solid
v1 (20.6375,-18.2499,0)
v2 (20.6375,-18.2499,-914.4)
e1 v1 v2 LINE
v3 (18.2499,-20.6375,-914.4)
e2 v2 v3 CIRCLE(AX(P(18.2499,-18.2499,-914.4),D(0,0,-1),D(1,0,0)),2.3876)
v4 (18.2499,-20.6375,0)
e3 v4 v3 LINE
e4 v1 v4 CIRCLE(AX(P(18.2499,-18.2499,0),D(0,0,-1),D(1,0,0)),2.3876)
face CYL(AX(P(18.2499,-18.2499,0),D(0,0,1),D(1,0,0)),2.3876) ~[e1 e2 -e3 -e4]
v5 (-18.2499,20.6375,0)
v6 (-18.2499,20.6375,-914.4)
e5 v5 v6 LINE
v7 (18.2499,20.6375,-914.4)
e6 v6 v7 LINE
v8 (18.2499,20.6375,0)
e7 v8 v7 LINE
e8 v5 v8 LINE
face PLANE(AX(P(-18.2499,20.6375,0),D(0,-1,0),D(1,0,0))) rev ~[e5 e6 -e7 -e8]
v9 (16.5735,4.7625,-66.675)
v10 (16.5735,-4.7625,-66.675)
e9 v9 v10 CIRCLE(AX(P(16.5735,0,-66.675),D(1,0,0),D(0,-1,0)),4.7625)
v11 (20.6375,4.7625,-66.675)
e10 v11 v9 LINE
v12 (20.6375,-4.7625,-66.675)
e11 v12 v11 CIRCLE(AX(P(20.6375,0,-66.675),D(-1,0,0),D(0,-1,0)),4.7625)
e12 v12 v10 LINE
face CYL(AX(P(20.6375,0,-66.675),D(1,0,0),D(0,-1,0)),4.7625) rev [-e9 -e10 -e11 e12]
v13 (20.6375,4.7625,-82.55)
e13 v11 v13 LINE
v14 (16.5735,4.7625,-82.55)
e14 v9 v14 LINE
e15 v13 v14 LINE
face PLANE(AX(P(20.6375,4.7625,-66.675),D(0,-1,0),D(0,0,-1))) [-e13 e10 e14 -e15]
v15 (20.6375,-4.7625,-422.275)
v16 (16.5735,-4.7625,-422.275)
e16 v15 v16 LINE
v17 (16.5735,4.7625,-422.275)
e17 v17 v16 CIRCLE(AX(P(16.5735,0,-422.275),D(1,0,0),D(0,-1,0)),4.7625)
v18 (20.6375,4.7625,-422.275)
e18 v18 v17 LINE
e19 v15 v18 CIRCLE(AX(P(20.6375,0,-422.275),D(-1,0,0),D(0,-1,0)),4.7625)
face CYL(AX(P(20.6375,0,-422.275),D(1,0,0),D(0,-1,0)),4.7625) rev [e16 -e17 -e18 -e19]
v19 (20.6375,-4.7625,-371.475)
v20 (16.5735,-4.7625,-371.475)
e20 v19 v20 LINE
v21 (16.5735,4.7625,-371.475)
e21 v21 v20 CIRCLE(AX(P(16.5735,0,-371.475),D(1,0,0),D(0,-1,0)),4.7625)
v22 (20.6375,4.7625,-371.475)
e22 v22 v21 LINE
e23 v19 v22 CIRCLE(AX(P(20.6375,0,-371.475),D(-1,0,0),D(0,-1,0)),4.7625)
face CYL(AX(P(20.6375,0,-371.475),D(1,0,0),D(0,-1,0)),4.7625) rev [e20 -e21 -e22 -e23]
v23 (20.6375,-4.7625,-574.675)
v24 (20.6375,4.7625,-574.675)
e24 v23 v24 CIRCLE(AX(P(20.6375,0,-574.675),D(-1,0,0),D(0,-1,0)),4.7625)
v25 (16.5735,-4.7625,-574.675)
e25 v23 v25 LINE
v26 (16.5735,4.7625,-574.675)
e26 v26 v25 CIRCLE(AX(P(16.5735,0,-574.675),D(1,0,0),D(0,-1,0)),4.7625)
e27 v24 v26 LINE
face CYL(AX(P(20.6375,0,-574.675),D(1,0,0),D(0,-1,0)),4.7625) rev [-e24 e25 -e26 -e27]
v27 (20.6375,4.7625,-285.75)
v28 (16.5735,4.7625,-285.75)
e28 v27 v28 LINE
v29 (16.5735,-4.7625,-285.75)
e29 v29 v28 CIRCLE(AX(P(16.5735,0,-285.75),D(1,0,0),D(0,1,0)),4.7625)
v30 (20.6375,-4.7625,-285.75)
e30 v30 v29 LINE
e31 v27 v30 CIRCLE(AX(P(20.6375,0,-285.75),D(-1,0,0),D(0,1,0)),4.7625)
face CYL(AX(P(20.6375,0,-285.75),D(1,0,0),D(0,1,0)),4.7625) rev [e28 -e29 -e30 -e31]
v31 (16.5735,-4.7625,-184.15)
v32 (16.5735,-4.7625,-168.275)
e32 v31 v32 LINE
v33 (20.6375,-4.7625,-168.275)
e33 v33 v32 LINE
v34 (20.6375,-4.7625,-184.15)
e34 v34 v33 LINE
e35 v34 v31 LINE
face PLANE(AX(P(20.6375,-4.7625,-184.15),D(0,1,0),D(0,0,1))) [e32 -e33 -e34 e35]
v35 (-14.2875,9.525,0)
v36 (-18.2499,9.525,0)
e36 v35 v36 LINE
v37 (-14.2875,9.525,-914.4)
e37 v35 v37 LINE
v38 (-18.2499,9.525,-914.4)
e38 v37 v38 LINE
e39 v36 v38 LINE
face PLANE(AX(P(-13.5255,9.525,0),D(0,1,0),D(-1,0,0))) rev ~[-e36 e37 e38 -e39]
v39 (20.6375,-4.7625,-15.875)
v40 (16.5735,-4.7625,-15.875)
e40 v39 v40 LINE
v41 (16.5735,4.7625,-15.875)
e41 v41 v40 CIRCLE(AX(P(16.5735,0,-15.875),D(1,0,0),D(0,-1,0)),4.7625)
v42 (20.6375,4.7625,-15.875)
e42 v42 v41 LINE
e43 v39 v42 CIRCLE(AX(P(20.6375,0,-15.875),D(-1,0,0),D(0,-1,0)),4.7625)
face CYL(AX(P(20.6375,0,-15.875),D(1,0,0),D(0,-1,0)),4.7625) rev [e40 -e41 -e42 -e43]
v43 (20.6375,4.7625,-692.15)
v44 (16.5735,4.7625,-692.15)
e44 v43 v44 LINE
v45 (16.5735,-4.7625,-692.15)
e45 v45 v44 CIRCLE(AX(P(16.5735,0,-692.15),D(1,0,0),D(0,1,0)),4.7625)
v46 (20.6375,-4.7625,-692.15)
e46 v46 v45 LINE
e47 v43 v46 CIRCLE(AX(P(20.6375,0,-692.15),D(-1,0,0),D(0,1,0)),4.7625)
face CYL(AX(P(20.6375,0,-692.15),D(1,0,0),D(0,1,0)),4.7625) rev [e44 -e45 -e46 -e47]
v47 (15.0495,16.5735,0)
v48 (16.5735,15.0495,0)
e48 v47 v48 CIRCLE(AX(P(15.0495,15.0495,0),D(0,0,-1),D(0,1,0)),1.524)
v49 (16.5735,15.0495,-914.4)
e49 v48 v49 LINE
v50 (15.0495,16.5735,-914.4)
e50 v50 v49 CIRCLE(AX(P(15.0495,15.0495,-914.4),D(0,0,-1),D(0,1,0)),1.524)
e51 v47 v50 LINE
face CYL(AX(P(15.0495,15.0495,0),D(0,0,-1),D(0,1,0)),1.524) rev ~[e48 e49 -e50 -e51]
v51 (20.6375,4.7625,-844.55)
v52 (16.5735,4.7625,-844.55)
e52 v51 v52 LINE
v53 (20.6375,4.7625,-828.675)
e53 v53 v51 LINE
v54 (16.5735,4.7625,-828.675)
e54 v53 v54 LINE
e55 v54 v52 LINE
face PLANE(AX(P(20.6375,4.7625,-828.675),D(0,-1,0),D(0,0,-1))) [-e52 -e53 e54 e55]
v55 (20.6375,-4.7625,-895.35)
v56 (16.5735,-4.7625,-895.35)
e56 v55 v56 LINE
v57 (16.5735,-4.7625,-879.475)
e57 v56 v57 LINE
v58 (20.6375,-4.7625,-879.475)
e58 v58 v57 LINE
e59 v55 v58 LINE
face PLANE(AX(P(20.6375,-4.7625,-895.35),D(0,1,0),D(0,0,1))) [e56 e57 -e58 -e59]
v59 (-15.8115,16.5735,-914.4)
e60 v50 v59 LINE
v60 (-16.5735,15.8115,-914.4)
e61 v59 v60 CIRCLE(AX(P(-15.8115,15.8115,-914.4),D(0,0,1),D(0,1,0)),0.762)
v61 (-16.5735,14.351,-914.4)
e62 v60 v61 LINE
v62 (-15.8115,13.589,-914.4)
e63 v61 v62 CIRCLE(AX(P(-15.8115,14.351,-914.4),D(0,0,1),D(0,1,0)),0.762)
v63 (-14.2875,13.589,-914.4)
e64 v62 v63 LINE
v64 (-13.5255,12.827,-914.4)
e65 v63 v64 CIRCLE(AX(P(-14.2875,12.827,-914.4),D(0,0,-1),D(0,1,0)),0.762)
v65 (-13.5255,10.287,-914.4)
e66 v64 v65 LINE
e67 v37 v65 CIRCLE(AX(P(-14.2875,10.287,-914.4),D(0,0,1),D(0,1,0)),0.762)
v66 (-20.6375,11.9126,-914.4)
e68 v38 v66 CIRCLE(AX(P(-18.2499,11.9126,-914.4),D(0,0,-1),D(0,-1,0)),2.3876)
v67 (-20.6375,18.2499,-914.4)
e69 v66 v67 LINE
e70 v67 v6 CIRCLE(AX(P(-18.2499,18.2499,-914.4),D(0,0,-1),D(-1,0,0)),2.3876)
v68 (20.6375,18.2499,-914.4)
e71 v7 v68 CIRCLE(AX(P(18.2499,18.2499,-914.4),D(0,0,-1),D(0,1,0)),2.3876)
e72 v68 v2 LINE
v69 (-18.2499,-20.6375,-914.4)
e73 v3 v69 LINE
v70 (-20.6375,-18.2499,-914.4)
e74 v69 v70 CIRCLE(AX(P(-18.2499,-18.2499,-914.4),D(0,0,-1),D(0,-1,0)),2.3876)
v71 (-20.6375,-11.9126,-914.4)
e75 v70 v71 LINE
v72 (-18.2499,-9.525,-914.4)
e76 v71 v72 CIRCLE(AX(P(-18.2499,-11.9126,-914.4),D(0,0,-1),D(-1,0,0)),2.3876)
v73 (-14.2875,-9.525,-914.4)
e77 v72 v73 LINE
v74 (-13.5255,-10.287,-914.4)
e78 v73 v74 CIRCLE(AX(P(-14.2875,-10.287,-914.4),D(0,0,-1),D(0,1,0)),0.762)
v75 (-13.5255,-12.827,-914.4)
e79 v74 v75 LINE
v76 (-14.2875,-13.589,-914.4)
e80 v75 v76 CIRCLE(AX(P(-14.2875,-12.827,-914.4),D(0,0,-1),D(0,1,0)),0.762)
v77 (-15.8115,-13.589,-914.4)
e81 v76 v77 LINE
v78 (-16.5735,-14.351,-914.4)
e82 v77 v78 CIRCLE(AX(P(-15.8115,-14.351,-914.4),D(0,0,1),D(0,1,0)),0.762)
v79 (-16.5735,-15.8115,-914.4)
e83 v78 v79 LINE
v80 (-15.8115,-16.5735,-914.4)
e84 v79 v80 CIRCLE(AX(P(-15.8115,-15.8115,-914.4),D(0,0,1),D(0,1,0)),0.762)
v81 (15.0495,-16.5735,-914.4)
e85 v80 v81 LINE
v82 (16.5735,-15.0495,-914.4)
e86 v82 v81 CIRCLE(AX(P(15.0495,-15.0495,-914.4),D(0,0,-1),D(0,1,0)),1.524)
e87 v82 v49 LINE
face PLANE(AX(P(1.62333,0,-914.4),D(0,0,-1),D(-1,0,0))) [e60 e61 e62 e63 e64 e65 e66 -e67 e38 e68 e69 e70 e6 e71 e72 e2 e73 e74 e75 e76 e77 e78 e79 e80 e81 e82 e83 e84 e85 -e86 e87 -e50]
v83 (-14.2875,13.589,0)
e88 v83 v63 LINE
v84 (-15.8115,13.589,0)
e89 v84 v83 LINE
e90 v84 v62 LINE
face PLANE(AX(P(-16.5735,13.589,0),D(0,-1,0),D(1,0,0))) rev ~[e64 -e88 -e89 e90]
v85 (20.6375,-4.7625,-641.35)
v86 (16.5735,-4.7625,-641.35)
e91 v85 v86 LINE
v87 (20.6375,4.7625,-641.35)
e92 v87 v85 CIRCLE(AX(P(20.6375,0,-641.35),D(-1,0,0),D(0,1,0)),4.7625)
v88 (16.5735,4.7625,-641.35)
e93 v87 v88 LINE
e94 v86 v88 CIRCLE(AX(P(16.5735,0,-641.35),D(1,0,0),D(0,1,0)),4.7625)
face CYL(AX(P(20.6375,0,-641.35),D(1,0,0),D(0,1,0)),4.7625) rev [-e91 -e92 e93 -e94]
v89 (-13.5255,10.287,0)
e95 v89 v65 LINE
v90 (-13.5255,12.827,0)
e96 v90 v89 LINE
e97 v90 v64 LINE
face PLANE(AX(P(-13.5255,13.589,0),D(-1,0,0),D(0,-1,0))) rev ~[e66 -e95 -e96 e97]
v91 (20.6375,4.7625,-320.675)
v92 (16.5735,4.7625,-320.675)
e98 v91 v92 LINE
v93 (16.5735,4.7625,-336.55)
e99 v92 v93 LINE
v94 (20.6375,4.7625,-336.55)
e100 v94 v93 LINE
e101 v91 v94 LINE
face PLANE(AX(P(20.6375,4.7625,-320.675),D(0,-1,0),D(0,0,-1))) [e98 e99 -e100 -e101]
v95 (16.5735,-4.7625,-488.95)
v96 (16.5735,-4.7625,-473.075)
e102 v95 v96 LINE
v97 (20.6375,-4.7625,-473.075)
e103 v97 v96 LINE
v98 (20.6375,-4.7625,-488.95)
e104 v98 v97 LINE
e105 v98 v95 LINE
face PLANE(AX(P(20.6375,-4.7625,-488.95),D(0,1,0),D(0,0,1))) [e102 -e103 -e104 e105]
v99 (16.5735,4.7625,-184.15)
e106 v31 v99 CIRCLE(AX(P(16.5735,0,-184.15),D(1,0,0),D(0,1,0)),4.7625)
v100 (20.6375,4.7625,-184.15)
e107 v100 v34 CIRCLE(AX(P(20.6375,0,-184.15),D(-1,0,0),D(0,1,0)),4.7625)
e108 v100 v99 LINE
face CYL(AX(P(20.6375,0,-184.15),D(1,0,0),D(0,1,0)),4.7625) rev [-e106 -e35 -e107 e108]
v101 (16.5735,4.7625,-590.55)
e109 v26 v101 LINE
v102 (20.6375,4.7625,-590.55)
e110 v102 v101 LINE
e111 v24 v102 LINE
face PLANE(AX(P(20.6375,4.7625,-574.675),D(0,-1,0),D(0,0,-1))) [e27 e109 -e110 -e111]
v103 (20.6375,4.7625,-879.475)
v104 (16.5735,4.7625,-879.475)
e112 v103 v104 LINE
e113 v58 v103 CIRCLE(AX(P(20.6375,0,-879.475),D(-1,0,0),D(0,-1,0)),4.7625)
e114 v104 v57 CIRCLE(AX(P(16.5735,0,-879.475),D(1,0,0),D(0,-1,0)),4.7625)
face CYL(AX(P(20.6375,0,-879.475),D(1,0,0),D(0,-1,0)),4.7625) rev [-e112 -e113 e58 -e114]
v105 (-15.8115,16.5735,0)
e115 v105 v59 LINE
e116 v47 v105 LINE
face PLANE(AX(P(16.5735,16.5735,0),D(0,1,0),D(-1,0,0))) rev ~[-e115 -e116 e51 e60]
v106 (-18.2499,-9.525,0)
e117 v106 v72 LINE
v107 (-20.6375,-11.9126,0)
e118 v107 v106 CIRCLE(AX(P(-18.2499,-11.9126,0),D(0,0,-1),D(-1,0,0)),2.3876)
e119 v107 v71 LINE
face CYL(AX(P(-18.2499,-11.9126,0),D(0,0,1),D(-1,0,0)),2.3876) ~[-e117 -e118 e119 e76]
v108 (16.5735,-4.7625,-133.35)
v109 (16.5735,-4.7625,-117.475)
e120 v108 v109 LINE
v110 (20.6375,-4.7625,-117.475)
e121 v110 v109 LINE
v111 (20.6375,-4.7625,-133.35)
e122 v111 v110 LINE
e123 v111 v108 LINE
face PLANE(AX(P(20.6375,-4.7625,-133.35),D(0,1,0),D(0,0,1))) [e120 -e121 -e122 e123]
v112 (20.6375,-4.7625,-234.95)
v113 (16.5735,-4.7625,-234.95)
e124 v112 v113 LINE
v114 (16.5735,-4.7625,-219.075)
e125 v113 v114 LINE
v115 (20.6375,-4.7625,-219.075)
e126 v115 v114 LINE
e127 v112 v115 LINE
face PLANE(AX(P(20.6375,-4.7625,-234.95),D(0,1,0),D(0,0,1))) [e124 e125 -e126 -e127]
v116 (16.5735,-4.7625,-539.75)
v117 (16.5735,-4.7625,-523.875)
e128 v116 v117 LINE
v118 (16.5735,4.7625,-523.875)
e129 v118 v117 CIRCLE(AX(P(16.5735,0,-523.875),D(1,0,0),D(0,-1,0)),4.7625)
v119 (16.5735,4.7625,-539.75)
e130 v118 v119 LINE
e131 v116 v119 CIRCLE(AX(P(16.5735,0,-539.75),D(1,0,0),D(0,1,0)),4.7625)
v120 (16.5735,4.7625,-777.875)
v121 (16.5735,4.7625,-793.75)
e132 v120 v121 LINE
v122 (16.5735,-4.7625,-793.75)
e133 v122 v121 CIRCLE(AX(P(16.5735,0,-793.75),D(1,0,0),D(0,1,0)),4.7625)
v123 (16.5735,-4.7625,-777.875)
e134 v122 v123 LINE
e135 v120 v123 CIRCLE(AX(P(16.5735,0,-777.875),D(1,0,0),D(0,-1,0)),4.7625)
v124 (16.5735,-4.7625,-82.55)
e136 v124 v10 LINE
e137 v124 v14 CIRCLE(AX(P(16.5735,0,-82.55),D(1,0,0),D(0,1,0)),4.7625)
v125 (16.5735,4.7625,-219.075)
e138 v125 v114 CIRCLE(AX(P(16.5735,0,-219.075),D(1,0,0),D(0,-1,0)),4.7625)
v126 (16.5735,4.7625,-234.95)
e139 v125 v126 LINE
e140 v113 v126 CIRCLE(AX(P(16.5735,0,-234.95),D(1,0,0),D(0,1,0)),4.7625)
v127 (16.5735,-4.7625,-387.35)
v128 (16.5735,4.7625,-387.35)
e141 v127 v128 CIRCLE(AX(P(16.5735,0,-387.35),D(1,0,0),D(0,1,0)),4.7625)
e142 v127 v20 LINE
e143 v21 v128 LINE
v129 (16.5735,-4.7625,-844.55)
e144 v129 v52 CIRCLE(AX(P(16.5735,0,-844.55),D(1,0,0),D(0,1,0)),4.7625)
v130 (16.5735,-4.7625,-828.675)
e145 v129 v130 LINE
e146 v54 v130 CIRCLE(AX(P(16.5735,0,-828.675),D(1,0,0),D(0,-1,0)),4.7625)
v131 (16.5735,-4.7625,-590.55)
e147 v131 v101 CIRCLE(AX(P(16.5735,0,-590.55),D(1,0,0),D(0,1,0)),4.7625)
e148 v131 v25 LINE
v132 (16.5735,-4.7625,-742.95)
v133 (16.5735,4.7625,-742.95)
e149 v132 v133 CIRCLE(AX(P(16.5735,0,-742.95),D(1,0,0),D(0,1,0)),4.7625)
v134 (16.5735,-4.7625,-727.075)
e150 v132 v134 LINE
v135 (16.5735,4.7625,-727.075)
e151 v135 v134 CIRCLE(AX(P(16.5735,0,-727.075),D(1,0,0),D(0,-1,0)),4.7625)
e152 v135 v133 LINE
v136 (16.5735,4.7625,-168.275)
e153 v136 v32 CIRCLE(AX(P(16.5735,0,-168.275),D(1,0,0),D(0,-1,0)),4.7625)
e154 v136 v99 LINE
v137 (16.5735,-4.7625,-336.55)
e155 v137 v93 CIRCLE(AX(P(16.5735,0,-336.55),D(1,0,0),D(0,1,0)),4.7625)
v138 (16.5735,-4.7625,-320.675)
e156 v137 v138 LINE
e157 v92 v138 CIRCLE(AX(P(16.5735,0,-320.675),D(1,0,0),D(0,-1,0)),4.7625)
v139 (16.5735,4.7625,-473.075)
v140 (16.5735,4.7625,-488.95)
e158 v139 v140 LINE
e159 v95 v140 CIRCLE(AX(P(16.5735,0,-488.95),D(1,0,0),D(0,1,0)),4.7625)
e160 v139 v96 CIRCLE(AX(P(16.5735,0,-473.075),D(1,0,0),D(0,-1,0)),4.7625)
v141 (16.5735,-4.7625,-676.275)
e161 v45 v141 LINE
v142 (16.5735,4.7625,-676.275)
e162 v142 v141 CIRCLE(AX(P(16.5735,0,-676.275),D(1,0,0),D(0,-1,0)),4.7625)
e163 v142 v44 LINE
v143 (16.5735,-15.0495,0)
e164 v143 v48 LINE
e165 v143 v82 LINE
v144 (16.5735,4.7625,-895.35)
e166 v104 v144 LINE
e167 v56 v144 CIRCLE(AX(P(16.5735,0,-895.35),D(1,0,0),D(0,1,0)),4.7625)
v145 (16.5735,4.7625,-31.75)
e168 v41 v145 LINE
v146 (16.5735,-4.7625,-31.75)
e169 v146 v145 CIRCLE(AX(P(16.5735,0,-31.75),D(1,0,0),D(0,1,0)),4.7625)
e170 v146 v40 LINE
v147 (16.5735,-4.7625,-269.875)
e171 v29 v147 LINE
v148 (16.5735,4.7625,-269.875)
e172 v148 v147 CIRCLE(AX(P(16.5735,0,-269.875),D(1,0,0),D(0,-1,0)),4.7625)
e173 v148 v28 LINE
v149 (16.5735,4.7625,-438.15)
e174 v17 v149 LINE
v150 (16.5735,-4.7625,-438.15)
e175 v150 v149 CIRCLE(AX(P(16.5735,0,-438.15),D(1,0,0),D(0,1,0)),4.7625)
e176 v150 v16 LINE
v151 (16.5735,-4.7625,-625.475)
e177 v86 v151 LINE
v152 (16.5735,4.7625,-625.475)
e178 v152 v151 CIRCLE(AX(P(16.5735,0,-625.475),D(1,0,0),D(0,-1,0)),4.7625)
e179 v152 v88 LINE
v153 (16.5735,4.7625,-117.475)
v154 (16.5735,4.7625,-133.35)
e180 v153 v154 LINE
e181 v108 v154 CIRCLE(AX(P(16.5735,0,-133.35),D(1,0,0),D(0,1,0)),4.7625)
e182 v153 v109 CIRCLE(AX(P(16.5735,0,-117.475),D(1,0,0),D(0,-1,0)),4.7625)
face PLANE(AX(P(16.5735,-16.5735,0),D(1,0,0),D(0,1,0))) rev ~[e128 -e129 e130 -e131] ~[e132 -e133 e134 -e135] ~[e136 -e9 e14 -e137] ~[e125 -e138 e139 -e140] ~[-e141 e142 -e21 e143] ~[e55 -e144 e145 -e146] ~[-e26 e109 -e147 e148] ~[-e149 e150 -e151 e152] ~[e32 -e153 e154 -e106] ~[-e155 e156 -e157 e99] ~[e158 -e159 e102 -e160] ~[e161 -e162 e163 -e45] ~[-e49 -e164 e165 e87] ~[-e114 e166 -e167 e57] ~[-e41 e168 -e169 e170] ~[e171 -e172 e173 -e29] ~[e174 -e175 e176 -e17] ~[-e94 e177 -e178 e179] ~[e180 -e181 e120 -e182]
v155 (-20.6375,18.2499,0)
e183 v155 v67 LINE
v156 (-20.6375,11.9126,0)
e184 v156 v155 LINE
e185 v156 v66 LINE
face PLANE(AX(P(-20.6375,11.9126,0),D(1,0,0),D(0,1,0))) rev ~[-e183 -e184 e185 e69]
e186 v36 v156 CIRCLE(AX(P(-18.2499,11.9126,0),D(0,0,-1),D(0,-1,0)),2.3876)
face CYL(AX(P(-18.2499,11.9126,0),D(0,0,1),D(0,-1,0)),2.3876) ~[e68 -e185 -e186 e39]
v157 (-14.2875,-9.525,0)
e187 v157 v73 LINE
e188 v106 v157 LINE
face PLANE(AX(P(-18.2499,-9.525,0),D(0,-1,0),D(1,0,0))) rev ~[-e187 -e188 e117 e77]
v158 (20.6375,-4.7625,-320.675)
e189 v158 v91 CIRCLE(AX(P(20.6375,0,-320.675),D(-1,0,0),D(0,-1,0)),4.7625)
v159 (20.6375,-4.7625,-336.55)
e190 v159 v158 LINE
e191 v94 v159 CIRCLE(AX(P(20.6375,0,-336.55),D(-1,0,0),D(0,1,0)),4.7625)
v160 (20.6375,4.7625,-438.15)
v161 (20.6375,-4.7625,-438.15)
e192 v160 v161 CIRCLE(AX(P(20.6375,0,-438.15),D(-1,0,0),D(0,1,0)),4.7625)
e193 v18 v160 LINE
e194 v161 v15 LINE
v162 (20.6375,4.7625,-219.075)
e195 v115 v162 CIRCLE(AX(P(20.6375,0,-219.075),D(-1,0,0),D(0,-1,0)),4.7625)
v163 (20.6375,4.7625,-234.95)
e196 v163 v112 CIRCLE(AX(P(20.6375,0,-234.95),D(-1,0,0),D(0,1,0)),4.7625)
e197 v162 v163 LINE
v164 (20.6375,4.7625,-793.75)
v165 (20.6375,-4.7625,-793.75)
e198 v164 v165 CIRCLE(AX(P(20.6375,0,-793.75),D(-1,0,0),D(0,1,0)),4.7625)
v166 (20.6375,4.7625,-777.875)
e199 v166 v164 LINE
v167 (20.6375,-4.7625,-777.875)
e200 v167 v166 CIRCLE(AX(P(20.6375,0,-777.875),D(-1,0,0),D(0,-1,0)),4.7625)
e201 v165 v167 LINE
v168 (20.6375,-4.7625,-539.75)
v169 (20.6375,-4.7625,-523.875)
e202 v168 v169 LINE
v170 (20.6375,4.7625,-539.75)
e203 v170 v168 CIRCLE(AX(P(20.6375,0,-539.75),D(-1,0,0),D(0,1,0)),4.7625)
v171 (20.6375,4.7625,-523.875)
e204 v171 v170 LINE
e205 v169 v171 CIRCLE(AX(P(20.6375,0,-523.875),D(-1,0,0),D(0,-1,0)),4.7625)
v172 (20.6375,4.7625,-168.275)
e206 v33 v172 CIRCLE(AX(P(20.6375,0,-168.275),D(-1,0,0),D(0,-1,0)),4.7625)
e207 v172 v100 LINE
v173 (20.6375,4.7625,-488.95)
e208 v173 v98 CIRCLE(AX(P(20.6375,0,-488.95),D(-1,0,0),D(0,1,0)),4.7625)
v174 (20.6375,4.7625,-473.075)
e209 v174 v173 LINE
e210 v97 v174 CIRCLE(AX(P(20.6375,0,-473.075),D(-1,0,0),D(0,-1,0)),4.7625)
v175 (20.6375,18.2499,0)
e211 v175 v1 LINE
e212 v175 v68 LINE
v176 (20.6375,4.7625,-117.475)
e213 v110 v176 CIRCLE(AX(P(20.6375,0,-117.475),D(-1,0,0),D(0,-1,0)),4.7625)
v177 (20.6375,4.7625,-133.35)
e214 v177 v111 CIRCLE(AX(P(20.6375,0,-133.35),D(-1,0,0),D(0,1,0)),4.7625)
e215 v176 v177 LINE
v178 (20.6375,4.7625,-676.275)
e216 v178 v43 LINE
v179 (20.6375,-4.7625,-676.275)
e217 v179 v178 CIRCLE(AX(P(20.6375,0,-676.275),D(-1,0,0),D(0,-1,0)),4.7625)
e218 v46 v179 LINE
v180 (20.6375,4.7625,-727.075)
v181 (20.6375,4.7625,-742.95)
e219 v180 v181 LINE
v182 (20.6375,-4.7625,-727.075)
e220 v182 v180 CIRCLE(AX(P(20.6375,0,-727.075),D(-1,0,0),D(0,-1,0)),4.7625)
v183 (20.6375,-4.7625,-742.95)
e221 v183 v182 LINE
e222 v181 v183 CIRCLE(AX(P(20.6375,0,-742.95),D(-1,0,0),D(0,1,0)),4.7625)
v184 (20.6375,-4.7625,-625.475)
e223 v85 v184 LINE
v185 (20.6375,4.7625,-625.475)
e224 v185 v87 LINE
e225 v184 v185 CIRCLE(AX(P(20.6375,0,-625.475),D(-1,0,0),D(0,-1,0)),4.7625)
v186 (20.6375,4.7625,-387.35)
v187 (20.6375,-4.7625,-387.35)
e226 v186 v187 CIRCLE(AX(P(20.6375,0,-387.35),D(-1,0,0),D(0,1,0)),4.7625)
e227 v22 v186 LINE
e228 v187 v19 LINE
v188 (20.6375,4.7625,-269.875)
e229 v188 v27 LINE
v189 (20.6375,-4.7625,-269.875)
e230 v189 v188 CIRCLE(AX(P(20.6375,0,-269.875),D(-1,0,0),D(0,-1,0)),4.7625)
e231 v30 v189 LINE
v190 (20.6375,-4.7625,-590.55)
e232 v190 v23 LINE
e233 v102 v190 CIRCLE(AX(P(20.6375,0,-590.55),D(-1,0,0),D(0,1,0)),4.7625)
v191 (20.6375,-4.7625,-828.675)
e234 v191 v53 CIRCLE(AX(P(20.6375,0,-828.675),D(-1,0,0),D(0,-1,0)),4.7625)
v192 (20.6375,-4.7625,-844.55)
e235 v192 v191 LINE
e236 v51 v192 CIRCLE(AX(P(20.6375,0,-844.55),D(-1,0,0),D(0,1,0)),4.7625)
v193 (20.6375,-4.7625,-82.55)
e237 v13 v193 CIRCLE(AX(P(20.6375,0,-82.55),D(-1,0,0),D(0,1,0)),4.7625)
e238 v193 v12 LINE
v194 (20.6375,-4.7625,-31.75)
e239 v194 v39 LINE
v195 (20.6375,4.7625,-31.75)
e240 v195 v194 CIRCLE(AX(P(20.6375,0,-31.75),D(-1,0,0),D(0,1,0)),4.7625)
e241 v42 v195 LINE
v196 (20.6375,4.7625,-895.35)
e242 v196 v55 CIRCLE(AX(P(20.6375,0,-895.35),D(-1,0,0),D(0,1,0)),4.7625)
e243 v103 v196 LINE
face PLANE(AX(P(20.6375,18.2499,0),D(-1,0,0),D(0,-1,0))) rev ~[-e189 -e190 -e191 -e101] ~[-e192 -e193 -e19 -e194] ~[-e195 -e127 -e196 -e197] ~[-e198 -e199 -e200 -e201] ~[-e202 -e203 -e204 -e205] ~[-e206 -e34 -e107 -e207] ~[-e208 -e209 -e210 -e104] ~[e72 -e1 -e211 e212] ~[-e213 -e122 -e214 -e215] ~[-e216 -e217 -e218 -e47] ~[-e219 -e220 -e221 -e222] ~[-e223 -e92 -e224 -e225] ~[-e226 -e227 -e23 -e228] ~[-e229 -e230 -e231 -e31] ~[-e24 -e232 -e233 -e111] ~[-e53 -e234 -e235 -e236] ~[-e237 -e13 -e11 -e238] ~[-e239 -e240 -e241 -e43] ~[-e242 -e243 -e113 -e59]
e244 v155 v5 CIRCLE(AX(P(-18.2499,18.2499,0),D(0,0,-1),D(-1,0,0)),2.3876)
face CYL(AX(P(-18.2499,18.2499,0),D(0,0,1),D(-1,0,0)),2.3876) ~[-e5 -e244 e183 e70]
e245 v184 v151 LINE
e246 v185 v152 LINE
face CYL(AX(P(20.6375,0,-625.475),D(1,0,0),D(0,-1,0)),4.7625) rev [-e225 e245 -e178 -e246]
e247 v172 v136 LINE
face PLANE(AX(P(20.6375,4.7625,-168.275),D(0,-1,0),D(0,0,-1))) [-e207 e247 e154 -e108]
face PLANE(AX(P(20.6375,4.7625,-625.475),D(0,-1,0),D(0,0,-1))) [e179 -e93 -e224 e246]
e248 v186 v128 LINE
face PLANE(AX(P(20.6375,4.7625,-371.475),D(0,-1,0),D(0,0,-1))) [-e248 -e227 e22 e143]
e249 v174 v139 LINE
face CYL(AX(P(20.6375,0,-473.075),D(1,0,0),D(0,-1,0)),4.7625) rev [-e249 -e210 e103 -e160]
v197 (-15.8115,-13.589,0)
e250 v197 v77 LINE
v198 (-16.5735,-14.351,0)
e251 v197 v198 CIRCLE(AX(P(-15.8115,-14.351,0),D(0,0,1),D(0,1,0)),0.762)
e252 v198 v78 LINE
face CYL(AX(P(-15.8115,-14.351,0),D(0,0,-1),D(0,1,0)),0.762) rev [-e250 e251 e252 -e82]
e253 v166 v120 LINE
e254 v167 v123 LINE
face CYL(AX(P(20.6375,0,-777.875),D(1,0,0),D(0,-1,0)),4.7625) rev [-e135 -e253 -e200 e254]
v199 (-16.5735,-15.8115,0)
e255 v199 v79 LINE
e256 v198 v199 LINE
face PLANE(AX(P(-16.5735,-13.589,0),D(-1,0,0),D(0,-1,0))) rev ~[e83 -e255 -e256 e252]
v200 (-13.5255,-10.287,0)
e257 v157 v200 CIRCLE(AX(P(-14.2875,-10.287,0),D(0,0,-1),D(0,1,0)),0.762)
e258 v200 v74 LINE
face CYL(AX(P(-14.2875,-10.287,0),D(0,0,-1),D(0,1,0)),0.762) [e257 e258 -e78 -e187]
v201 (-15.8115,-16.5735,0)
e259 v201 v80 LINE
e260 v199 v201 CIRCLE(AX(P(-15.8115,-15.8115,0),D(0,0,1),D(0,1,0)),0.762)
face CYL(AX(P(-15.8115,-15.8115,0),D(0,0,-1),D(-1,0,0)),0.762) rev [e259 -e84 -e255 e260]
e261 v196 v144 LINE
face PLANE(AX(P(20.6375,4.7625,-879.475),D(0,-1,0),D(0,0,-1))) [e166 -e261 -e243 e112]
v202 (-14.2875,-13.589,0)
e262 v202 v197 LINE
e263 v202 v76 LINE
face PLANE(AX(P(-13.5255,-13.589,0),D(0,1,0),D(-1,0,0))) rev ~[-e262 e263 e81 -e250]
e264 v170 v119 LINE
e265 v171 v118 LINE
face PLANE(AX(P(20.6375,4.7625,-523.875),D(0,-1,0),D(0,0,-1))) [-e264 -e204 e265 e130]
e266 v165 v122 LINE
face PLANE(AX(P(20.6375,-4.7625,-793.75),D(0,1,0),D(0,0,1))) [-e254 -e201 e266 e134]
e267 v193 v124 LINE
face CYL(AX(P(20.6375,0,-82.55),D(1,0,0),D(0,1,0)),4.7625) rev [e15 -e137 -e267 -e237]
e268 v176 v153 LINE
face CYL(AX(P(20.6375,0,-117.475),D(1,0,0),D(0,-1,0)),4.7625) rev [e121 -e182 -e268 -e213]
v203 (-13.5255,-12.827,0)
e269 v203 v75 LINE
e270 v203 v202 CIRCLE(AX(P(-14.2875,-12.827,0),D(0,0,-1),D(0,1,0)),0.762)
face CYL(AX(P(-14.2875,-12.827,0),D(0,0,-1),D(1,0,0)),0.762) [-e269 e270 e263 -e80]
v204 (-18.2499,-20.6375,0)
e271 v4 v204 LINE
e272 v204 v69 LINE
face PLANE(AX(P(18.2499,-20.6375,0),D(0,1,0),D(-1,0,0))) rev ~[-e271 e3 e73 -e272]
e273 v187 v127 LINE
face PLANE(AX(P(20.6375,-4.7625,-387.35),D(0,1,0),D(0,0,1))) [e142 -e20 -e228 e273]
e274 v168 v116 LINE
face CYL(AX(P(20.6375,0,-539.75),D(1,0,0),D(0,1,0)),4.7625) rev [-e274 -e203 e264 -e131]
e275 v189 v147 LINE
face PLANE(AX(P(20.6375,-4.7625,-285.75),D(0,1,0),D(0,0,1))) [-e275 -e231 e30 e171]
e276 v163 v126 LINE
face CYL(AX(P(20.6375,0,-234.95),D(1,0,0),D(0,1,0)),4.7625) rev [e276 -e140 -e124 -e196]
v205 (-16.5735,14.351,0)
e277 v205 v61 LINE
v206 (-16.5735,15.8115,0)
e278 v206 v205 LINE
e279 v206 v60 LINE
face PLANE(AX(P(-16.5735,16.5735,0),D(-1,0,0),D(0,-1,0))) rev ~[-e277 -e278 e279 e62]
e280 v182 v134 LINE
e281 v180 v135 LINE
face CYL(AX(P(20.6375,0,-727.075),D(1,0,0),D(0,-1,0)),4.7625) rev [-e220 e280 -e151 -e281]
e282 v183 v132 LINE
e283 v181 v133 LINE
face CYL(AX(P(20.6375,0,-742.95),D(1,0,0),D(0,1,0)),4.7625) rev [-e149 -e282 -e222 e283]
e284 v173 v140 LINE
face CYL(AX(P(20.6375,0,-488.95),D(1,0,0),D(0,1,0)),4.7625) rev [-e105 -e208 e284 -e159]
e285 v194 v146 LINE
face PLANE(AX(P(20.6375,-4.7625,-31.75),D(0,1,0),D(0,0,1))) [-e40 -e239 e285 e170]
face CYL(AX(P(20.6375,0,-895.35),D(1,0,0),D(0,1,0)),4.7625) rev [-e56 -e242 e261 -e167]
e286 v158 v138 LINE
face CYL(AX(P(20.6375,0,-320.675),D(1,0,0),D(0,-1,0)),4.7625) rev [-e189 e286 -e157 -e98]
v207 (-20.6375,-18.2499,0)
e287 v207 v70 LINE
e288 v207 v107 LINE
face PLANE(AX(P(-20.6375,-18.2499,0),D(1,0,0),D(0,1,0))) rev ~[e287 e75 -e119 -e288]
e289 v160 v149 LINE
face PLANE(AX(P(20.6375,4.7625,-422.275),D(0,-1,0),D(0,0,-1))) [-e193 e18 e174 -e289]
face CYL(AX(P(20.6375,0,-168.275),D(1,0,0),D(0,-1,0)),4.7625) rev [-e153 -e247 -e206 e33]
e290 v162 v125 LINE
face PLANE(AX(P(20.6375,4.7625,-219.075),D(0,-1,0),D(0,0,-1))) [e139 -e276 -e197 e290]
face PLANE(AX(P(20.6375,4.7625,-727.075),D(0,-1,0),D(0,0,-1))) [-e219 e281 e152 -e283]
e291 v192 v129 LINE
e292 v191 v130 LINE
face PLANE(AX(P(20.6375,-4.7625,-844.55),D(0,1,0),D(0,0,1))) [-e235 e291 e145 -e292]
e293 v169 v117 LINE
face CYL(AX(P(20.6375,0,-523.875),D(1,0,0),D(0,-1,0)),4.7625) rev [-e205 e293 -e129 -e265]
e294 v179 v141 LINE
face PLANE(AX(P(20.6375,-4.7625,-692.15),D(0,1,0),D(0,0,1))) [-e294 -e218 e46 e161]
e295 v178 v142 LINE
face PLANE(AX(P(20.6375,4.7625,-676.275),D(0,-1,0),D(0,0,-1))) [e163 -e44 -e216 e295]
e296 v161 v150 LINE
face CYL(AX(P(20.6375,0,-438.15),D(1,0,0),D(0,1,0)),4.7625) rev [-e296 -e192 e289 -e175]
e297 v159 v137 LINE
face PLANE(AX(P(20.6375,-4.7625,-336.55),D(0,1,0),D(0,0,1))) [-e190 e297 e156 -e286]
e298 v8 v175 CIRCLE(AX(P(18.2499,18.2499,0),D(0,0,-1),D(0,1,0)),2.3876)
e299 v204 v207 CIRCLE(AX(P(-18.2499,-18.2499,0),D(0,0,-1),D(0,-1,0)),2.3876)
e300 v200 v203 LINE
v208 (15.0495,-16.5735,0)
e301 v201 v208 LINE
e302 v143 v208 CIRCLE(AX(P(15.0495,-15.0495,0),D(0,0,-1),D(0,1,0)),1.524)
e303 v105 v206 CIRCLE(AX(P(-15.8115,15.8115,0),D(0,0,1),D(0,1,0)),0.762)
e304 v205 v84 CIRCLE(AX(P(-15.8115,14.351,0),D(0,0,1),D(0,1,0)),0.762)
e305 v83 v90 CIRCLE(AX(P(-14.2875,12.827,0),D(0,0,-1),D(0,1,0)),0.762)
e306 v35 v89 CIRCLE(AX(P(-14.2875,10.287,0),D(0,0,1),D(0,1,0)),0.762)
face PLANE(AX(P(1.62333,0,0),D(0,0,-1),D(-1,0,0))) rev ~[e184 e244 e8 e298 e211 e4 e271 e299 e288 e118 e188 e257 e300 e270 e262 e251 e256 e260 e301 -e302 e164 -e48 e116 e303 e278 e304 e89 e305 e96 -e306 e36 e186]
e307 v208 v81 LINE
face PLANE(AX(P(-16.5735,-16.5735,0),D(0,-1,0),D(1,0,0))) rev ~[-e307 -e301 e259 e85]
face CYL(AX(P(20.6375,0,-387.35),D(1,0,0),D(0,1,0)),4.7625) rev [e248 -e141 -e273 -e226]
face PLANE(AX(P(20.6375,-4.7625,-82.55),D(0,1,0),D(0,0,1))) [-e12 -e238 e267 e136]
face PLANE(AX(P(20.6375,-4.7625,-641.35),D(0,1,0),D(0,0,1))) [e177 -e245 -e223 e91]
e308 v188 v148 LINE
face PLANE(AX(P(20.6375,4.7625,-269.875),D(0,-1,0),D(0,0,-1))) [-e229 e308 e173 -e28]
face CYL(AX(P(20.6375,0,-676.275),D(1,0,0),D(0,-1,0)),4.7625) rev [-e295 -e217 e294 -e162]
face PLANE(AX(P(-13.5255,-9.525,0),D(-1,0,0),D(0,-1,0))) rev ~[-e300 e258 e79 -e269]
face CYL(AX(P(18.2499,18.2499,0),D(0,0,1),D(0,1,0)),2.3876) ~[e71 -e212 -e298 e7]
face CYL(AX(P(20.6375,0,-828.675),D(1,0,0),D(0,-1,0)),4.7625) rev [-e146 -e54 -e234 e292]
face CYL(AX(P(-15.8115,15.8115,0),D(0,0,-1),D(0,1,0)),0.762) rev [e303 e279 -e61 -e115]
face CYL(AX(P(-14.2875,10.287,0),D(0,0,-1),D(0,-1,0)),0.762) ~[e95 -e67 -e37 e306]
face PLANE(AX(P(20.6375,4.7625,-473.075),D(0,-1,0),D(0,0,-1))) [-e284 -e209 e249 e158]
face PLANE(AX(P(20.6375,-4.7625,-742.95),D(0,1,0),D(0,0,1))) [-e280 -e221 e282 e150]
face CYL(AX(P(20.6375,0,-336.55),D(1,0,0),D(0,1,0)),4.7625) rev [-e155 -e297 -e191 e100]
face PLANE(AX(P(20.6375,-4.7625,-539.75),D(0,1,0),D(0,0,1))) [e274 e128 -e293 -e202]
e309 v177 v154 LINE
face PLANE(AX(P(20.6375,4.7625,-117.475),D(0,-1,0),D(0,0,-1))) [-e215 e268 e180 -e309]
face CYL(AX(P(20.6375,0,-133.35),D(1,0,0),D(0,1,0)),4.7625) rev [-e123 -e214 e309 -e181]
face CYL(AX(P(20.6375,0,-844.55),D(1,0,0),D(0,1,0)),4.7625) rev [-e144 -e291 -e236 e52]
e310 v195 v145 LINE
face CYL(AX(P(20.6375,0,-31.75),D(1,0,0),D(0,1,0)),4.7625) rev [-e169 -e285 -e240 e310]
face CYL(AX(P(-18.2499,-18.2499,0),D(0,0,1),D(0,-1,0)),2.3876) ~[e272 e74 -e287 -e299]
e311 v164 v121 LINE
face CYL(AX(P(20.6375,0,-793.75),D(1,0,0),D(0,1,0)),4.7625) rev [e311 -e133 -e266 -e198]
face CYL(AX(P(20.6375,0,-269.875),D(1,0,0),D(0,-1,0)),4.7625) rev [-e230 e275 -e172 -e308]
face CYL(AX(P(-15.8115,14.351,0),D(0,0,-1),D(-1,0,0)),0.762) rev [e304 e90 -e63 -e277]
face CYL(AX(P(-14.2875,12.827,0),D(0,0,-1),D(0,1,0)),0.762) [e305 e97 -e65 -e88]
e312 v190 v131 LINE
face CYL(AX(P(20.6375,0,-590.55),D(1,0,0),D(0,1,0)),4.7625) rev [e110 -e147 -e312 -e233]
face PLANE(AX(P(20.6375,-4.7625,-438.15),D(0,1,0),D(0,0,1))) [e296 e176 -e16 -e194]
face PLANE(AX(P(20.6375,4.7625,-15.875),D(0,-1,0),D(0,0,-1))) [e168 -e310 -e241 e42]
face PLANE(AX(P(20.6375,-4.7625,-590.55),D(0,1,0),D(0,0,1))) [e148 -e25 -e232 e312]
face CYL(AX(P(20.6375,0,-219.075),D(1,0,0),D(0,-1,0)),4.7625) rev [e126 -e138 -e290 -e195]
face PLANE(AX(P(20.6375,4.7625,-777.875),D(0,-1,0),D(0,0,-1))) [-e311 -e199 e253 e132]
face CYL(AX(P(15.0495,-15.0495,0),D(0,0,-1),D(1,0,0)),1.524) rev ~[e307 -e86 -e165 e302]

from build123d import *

# Parameters (mm, degrees)
EXTRUDE_THIN1_DEPTH = 914.4
FILLET2_R           = 0.762
FILLET3_R           = 1.524
CUT_EXTRUDE1_DEPTH  = 916.563701788
LPATTERN1_COUNT     = 18
LPATTERN1_PITCH     = 50.8


with BuildPart() as part:
    # Sketch1 → Extrude-Thin1 (new body)
    with BuildSketch(Plane.XY):
        with BuildLine():
            Line((-13.5255, 9.525), (-18.2499, 9.525))
            ThreePointArc((-18.2499, 9.525), (-19.938188151, 10.224311849), (-20.6375, 11.9126))
            Line((-20.6375, 11.9126), (-20.6375, 18.2499))
            ThreePointArc((-20.6375, 18.2499), (-19.938188151, 19.938188151), (-18.2499, 20.6375))
            Line((-18.2499, 20.6375), (18.2499, 20.6375))
            ThreePointArc((18.2499, 20.6375), (19.938188151, 19.938188151), (20.6375, 18.2499))
            Line((20.6375, 18.2499), (20.6375, -18.2499))
            ThreePointArc((20.6375, -18.2499), (19.938188151, -19.938188151), (18.2499, -20.6375))
            Line((18.2499, -20.6375), (-18.2499, -20.6375))
            ThreePointArc((-18.2499, -20.6375), (-19.938188151, -19.938188151), (-20.6375, -18.2499))
            Line((-20.6375, -18.2499), (-20.6375, -11.9126))
            ThreePointArc((-20.6375, -11.9126), (-19.938188151, -10.224311849), (-18.2499, -9.525))
            Line((-18.2499, -9.525), (-13.5255, -9.525))
            Line((-13.5255, -9.525), (-13.5255, -13.589))
            Line((-13.5255, -13.589), (-16.5735, -13.589))
            Line((-16.5735, -13.589), (-16.5735, -16.5735))
            Line((-16.5735, -16.5735), (16.5735, -16.5735))
            Line((16.5735, -16.5735), (16.5735, 16.5735))
            Line((16.5735, 16.5735), (-16.5735, 16.5735))
            Line((-16.5735, 16.5735), (-16.5735, 13.589))
            Line((-16.5735, 13.589), (-13.5255, 13.589))
            Line((-13.5255, 13.589), (-13.5255, 9.525))
        make_face()
    extrude(amount=-EXTRUDE_THIN1_DEPTH)

    # Fillet2
    fillet2_edges = [part.edges().sort_by_distance(p)[0] for p in [
        (-16.5735, -13.589, -457.2),
        (-16.5735, -16.5735, -457.2),
        (-16.5735, 16.5735, -457.2),
        (-16.5735, 13.589, -457.2),
        (-13.5255, 13.589, -457.2),
        (-13.5255, 9.525, -457.2),
        (-13.5255, -9.525, -457.2),
        (-13.5255, -13.589, -457.2),
    ]]
    fillet(fillet2_edges, radius=FILLET2_R)

    # Fillet3
    fillet3_edges = [part.edges().sort_by_distance(p)[0] for p in [
        (16.5735, -16.5735, -457.2),
        (16.5735, 16.5735, -457.2),
    ]]
    fillet(fillet3_edges, radius=FILLET3_R)

    # Sketch2 → Cut-Extrude1 (cut, through all)
    with BuildSketch(Plane(origin=(20.6375, 0, 0), x_dir=(0, 0, -1), z_dir=(1, 0, 0))):
        with BuildLine():
            Line((15.875, 4.7625), (31.75, 4.7625))
            ThreePointArc((31.75, 4.7625), (36.5125, 0), (31.75, -4.7625))
            Line((31.75, -4.7625), (15.875, -4.7625))
            ThreePointArc((15.875, -4.7625), (11.1125, 0), (15.875, 4.7625))
        make_face()
    cut_extrude1 = extrude(amount=-CUT_EXTRUDE1_DEPTH, mode=Mode.SUBTRACT)

    # LPattern1: Cut-Extrude1 ×18
    with Locations(*[(0, 0, -i * LPATTERN1_PITCH) for i in range(1, LPATTERN1_COUNT)]):
        add(cut_extrude1, mode=Mode.SUBTRACT)


solid = part.part
